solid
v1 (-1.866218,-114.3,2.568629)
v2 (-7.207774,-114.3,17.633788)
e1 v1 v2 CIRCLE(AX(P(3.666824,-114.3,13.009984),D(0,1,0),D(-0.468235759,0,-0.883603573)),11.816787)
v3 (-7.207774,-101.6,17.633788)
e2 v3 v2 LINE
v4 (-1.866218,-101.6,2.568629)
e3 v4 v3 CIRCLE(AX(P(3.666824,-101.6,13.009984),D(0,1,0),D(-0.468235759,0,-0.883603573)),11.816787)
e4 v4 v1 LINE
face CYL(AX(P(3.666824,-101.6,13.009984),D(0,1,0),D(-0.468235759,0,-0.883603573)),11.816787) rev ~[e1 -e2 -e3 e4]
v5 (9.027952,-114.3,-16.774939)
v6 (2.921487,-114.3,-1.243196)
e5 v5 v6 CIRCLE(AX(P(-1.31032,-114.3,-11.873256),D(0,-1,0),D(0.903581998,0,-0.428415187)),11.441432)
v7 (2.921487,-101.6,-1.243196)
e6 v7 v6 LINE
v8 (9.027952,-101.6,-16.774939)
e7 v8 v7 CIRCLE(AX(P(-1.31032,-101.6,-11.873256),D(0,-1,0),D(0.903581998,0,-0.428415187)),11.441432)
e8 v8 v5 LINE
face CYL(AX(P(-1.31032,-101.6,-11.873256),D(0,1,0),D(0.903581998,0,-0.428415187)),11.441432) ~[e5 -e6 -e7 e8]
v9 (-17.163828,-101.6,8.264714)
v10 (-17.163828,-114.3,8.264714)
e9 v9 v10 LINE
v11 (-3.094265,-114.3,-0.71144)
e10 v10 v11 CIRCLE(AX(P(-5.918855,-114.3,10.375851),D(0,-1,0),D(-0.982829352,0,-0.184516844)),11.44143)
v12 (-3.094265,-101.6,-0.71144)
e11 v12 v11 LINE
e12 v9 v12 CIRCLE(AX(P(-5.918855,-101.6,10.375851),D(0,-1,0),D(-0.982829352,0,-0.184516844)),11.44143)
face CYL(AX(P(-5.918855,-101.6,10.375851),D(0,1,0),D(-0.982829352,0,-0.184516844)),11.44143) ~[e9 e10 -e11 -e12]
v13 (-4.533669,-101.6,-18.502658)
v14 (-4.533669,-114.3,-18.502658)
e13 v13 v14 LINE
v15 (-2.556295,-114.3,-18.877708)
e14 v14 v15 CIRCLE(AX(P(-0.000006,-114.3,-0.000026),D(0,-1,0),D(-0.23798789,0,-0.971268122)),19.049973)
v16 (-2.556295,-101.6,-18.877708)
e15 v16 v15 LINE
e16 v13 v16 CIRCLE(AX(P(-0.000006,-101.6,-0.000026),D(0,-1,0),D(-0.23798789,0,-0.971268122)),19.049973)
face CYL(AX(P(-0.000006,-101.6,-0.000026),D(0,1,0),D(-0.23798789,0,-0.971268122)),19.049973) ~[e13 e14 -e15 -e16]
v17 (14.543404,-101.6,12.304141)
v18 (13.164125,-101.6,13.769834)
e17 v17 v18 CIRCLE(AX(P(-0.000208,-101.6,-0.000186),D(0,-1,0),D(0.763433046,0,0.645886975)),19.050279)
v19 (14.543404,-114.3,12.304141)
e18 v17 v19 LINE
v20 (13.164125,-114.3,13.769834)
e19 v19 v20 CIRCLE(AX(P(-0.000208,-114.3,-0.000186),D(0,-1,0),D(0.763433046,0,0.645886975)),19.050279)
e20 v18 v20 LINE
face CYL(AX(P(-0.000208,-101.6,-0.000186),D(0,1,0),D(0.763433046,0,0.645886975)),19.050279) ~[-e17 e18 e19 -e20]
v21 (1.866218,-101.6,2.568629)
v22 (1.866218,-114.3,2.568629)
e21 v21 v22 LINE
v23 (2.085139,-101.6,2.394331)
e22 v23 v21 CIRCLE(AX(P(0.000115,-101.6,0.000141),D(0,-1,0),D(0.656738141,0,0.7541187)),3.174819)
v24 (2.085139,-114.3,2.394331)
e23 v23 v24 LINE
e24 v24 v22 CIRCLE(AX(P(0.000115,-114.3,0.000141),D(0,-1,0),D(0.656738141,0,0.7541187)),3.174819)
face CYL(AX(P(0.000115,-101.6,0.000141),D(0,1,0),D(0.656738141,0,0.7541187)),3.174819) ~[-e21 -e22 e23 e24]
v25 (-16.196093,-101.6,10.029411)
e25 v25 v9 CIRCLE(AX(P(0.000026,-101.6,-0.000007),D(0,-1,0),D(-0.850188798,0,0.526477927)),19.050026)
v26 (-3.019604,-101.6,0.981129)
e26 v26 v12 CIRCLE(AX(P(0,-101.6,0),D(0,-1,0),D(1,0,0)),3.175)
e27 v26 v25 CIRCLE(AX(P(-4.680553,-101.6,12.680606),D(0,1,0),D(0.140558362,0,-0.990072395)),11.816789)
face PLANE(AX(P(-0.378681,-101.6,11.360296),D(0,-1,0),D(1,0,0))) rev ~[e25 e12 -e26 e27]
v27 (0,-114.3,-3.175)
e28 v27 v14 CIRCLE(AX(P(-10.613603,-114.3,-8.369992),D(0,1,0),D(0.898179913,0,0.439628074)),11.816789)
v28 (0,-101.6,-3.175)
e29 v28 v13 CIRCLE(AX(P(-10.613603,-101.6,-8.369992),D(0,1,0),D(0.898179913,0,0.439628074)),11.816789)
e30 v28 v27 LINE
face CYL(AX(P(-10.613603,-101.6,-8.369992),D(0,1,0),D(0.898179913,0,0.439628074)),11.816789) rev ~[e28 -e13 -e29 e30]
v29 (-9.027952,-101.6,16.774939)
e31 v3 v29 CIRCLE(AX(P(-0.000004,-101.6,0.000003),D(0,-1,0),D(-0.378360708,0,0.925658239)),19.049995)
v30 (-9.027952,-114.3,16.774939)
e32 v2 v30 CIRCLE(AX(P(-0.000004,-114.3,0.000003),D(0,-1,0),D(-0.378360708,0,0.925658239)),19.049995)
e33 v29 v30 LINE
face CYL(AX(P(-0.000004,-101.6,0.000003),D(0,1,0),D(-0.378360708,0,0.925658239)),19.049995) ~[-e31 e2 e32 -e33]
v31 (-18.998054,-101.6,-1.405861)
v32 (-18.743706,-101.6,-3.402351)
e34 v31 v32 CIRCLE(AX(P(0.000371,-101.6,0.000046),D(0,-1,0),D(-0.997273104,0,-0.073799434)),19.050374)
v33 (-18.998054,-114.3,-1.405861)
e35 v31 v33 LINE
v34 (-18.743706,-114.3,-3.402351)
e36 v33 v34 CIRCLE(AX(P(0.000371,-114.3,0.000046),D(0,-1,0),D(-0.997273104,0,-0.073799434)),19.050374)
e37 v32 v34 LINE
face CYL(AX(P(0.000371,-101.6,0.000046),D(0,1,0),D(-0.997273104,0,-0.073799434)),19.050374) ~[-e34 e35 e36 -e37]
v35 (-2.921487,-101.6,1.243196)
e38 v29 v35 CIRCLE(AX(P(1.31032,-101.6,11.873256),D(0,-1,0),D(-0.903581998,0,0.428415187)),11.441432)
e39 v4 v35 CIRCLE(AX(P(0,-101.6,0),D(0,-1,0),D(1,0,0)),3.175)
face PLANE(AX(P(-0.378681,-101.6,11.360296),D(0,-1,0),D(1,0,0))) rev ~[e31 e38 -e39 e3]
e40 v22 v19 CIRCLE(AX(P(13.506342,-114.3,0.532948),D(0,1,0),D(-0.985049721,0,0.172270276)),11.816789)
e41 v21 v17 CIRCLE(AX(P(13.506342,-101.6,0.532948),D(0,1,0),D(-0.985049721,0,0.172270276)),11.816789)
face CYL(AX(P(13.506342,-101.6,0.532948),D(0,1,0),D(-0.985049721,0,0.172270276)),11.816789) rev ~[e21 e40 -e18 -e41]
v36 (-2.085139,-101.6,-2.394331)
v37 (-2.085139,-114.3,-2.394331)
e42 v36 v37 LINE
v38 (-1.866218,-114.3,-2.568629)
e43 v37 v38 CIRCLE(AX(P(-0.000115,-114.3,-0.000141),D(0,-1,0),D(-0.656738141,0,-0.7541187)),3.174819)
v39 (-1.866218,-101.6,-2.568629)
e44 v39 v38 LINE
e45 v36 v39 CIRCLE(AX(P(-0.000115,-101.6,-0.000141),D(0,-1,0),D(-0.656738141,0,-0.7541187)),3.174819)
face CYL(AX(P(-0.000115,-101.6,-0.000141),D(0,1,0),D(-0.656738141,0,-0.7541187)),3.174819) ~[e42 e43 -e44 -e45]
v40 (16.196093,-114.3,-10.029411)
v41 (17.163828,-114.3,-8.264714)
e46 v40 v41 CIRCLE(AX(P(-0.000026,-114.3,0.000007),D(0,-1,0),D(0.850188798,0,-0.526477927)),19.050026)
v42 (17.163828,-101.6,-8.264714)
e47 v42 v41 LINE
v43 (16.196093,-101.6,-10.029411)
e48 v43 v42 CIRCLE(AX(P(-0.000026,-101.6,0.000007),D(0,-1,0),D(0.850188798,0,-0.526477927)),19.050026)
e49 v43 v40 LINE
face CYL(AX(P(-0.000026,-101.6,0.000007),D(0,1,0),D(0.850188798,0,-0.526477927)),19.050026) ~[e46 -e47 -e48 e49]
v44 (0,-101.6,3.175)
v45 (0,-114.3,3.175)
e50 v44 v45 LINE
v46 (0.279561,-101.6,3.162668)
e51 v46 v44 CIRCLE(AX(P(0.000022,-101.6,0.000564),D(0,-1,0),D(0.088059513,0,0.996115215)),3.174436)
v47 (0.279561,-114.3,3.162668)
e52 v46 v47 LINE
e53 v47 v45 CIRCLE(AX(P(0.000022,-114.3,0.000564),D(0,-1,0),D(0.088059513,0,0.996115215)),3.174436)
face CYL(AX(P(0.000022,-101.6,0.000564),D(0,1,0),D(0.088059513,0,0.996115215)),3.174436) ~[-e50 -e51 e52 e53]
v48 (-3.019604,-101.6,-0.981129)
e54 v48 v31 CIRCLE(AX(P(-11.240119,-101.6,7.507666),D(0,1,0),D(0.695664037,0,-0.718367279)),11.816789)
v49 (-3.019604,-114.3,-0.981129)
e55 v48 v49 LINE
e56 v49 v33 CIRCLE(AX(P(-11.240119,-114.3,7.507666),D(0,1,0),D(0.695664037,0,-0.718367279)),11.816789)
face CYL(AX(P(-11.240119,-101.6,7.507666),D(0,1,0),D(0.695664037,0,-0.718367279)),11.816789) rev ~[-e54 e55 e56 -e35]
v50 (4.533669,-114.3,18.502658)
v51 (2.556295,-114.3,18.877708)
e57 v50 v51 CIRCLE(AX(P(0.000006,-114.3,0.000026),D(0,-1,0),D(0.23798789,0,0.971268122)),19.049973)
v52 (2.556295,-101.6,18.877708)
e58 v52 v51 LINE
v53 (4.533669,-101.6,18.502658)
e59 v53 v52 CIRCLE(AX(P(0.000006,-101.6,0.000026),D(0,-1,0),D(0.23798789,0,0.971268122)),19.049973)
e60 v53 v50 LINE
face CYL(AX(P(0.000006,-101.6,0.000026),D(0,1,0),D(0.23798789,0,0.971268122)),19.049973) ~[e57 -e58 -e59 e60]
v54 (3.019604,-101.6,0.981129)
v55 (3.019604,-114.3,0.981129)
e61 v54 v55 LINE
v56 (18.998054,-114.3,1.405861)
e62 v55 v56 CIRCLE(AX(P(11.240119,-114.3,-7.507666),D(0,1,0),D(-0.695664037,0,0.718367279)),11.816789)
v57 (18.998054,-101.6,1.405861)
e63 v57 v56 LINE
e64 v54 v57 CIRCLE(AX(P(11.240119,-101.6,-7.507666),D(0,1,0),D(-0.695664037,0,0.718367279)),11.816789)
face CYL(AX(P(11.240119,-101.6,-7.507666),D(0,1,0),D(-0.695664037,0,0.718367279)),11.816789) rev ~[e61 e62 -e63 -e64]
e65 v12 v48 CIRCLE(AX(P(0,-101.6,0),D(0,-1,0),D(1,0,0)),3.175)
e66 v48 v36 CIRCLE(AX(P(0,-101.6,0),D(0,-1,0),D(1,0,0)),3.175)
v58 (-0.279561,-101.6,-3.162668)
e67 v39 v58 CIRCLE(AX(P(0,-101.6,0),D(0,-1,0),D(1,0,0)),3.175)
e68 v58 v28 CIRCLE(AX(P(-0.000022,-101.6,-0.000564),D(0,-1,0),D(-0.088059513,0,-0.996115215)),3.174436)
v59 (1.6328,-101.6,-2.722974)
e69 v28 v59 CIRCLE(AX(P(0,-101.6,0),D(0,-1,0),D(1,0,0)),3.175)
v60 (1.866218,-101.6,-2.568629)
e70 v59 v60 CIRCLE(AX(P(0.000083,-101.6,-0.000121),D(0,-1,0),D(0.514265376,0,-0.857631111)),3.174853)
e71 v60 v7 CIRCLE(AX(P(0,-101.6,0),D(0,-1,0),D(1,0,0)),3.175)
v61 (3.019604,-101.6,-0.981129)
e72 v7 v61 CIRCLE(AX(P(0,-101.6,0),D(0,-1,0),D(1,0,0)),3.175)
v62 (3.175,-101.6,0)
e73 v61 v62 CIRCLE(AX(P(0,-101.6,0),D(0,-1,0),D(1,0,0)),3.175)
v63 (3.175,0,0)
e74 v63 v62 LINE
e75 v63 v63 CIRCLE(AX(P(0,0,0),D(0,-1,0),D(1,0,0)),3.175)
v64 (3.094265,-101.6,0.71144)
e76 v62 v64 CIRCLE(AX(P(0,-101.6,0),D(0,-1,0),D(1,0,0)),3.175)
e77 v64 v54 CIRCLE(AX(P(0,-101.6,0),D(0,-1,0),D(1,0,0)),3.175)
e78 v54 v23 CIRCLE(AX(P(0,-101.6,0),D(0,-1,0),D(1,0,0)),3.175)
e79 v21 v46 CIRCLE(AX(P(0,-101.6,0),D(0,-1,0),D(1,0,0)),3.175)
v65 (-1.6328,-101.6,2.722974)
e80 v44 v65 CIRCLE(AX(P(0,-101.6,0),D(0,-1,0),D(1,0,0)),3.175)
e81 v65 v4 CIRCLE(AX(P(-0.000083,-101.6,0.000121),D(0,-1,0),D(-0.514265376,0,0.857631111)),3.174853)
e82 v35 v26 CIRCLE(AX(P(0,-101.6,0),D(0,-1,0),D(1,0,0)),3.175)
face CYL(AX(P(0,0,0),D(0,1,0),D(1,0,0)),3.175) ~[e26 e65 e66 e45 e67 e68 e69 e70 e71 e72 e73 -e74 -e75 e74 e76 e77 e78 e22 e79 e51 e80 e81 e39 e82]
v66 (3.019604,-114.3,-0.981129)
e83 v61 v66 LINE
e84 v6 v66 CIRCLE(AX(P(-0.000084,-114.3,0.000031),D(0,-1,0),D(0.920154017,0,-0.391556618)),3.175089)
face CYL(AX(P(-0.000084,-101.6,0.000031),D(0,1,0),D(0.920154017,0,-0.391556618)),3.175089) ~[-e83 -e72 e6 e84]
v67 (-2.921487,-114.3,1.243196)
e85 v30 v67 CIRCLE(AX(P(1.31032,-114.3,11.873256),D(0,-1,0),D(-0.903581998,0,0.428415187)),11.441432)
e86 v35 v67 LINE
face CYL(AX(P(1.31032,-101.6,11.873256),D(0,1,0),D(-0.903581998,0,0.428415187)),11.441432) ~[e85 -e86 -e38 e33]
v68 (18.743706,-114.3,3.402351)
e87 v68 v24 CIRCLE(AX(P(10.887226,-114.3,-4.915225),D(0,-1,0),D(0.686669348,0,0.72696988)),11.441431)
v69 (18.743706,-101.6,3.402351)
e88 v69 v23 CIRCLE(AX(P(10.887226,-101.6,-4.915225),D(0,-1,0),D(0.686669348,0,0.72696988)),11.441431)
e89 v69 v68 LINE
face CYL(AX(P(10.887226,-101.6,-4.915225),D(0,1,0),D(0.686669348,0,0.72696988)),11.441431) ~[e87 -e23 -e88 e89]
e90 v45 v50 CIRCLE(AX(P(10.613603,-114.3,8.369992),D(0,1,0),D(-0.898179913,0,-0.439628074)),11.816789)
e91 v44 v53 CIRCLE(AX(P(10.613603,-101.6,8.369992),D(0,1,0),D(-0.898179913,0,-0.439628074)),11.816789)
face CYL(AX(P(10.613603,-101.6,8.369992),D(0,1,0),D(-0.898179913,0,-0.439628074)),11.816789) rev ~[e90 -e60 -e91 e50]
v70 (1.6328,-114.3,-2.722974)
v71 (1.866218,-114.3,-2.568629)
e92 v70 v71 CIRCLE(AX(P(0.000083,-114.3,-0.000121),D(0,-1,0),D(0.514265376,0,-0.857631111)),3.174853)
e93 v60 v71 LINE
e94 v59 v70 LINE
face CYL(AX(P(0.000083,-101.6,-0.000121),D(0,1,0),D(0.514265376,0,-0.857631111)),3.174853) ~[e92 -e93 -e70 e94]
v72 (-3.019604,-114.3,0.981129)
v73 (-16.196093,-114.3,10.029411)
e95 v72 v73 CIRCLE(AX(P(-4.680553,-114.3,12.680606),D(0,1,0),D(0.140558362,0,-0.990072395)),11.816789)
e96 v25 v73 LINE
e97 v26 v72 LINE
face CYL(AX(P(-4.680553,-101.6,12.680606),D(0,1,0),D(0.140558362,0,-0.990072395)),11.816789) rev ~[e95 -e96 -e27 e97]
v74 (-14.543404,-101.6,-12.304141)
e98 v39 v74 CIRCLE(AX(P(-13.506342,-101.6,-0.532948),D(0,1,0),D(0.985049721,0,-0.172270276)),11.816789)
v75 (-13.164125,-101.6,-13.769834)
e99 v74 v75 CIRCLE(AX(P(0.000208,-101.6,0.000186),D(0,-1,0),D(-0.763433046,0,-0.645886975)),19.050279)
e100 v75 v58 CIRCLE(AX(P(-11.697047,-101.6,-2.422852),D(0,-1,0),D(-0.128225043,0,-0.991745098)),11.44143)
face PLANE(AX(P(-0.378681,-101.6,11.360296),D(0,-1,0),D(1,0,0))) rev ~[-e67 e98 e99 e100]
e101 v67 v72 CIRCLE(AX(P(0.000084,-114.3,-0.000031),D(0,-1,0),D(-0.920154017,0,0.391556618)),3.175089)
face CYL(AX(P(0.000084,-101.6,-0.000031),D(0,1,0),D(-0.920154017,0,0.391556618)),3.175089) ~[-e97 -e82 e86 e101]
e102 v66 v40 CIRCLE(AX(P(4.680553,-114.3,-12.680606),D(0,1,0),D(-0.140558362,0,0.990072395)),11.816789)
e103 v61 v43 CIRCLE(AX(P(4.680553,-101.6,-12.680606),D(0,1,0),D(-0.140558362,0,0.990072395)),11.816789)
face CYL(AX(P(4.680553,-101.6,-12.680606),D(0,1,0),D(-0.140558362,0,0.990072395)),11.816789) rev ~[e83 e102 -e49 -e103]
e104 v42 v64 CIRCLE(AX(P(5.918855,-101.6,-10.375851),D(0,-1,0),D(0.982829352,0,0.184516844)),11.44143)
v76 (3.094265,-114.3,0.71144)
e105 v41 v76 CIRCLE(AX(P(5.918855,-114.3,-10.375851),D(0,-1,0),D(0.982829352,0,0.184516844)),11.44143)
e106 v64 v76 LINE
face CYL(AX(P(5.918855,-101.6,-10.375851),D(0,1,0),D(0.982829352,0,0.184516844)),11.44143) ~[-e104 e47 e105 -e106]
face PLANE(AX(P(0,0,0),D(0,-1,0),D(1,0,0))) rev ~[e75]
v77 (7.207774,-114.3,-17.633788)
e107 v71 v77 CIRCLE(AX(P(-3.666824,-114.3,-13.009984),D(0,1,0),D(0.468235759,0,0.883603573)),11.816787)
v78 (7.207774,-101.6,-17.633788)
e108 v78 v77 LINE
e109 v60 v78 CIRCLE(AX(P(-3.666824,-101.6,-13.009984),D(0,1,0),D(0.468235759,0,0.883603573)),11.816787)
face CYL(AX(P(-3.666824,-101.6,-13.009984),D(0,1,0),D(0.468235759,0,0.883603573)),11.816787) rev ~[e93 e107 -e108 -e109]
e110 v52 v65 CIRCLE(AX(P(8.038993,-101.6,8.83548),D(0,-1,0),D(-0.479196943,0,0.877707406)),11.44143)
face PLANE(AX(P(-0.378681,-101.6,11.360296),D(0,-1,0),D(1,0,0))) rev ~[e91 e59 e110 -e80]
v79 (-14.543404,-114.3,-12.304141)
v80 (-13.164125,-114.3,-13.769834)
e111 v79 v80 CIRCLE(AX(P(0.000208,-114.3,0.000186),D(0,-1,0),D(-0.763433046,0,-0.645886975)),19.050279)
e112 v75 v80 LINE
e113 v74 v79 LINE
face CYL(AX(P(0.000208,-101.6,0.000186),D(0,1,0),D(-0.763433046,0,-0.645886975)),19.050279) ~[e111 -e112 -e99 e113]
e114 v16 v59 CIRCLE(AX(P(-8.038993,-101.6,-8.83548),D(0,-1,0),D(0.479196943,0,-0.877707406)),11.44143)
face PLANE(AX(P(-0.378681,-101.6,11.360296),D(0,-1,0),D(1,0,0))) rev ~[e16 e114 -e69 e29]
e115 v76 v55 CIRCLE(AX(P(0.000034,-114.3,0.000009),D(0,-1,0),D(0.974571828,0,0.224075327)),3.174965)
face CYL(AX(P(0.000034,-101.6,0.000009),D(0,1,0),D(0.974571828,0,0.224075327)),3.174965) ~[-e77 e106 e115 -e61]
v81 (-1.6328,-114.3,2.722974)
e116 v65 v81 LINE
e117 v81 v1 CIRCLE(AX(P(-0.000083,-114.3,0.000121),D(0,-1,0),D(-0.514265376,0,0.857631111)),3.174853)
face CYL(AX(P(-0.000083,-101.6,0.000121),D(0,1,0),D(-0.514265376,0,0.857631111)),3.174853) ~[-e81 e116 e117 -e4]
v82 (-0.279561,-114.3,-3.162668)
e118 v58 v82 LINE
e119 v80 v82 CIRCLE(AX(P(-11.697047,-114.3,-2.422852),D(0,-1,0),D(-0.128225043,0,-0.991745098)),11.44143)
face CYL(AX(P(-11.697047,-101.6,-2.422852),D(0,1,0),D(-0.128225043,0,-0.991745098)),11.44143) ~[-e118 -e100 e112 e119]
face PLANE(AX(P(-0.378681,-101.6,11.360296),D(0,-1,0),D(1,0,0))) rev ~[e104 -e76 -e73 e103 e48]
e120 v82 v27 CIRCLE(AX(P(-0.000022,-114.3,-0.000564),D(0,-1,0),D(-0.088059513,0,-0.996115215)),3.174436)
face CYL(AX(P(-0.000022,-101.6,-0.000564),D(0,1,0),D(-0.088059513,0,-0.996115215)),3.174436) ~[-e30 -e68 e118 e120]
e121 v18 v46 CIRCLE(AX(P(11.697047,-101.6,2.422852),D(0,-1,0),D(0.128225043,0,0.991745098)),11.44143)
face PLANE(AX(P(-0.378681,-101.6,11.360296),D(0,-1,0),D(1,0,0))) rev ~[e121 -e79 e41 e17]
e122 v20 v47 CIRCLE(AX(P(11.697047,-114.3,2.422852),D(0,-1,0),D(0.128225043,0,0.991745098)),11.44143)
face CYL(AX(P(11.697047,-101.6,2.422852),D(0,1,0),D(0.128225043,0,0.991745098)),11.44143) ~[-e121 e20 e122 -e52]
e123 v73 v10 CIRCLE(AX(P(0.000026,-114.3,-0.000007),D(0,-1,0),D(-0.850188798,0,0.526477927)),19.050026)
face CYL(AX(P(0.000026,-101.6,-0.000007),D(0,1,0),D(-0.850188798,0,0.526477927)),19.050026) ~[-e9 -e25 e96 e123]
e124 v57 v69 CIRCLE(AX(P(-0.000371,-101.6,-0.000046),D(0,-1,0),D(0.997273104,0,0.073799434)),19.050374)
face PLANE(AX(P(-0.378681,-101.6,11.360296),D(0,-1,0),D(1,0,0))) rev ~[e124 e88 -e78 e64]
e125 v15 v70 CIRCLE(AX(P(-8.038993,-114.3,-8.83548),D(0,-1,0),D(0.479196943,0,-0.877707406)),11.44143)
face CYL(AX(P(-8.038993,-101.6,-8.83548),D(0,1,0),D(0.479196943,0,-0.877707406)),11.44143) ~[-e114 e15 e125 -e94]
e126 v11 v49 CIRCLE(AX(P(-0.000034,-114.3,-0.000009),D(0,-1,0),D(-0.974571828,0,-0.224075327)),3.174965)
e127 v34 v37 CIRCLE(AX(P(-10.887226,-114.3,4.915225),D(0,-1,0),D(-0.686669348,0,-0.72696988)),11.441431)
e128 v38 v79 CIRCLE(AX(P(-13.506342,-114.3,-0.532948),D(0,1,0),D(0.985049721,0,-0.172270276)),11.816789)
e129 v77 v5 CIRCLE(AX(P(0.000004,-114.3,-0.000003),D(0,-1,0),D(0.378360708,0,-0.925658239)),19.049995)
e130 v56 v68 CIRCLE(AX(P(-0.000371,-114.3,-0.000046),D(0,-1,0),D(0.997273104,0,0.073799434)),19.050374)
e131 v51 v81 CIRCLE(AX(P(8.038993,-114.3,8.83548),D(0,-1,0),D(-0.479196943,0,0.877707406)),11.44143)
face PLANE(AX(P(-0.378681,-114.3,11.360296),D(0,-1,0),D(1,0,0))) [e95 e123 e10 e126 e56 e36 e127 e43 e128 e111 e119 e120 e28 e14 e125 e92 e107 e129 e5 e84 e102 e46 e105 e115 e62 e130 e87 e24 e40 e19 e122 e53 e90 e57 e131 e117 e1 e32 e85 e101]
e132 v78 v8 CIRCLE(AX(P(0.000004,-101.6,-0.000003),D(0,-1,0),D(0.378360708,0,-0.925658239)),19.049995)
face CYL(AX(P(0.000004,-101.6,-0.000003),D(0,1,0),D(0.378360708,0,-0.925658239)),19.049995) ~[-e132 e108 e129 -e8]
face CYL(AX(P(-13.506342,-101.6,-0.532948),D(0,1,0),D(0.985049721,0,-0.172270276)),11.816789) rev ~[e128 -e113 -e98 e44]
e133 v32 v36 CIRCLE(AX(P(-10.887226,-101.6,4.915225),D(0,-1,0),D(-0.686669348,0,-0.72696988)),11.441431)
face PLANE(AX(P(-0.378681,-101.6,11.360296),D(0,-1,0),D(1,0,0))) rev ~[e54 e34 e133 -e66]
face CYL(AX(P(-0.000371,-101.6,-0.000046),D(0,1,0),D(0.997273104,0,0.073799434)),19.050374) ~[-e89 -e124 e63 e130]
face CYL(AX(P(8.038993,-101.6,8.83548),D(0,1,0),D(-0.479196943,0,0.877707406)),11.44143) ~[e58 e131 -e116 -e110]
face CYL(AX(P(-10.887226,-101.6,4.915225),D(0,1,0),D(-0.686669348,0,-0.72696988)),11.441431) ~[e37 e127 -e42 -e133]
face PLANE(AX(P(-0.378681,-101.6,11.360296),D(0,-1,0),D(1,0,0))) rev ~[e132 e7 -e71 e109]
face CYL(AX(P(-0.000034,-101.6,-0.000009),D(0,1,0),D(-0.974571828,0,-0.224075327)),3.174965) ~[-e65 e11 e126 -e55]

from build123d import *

# Parameters (mm, degrees)
F0_R     = 3.175
F1_DEPTH = 101.6
F3_DEPTH = 12.7


with BuildPart() as f1:
    # F0 (on Front) → F1 (new body)
    with BuildSketch(Plane.XZ):
        Circle(F0_R)
    extrude(amount=F1_DEPTH)

    # F2 (on face) → F3 (join)
    with BuildSketch(Plane.XZ.offset(101.6)):
        with BuildLine():
            ThreePointArc((0, 3.175), (-0.717894, 11.721662), (4.533669, 18.502658))
            ThreePointArc((4.533669, 18.502658), (3.549938, 18.716315), (2.556295, 18.877708))
            ThreePointArc((2.556295, 18.877708), (-3.036137, 11.70738), (-1.6328, 2.722974))
            ThreePointArc((-1.6328, 2.722974), (-0.847108, 3.059907), (0, 3.175))
        make_face()
        with BuildLine():
            ThreePointArc((1.866218, 2.568629), (6.309032, 9.904992), (14.543404, 12.304141))
            ThreePointArc((14.543404, 12.304141), (13.873134, 13.055215), (13.164125, 13.769834))
            ThreePointArc((13.164125, 13.769834), (4.425139, 11.256066), (0.279561, 3.162668))
            ThreePointArc((0.279561, 3.162668), (1.113244, 2.973434), (1.866218, 2.568629))
        make_face()
        with BuildLine():
            ThreePointArc((3.019604, 0.981129), (10.926122, 4.304951), (18.998054, 1.405861))
            ThreePointArc((18.998054, 1.405861), (18.897264, 2.407467), (18.743706, 3.402351))
            ThreePointArc((18.743706, 3.402351), (10.196162, 6.505317), (2.085139, 2.394331))
            ThreePointArc((2.085139, 2.394331), (2.648374, 1.751211), (3.019604, 0.981129))
        make_face()
        with BuildLine():
            ThreePointArc((16.196093, -10.029411), (16.703282, -9.159851), (17.163828, -8.264714))
            ThreePointArc((17.163828, -8.264714), (12.072598, -0.730242), (3.094265, 0.71144))
            ThreePointArc((3.094265, 0.71144), (3.154752, 0.358003), (3.175, 0))
            ThreePointArc((3.175, 0), (3.13591, -0.496679), (3.019604, -0.981129))
            ThreePointArc((3.019604, -0.981129), (11.369805, -2.939435), (16.196093, -10.029411))
        make_face()
        with BuildLine():
            ThreePointArc((-4.533669, -18.502658), (-3.549938, -18.716315), (-2.556295, -18.877708))
            ThreePointArc((-2.556295, -18.877708), (3.036137, -11.70738), (1.6328, -2.722974))
            ThreePointArc((1.6328, -2.722974), (0.847108, -3.059907), (0, -3.175))
            ThreePointArc((0, -3.175), (0.717894, -11.721662), (-4.533669, -18.502658))
        make_face()
        with BuildLine():
            ThreePointArc((7.207774, -17.633788), (8.129213, -17.228418), (9.027952, -16.774939))
            ThreePointArc((9.027952, -16.774939), (9.337711, -7.686873), (2.921487, -1.243196))
            ThreePointArc((2.921487, -1.243196), (2.483893, -1.9776), (1.866218, -2.568629))
            ThreePointArc((1.866218, -2.568629), (7.470609, -9.061056), (7.207774, -17.633788))
        make_face()
        with BuildLine():
            ThreePointArc((-14.543404, -12.304141), (-13.873134, -13.055215), (-13.164125, -13.769834))
            ThreePointArc((-13.164125, -13.769834), (-4.425139, -11.256066), (-0.279561, -3.162668))
            ThreePointArc((-0.279561, -3.162668), (-1.113244, -2.973434), (-1.866218, -2.568629))
            ThreePointArc((-1.866218, -2.568629), (-6.309032, -9.904992), (-14.543404, -12.304141))
        make_face()
        with BuildLine():
            ThreePointArc((-18.998054, -1.405861), (-18.897264, -2.407467), (-18.743706, -3.402351))
            ThreePointArc((-18.743706, -3.402351), (-10.196162, -6.505317), (-2.085139, -2.394331))
            ThreePointArc((-2.085139, -2.394331), (-2.648374, -1.751211), (-3.019604, -0.981129))
            ThreePointArc((-3.019604, -0.981129), (-10.926122, -4.304951), (-18.998054, -1.405861))
        make_face()
        with BuildLine():
            ThreePointArc((-3.019604, 0.981129), (-11.369805, 2.939435), (-16.196093, 10.029411))
            ThreePointArc((-16.196093, 10.029411), (-16.703282, 9.159851), (-17.163828, 8.264714))
            ThreePointArc((-17.163828, 8.264714), (-12.072598, 0.730242), (-3.094265, -0.71144))
            ThreePointArc((-3.094265, -0.71144), (-3.171916, 0.139916), (-3.019604, 0.981129))
        make_face()
        with BuildLine():
            ThreePointArc((-1.866218, 2.568629), (-7.470609, 9.061056), (-7.207774, 17.633788))
            ThreePointArc((-7.207774, 17.633788), (-8.129213, 17.228418), (-9.027952, 16.774939))
            ThreePointArc((-9.027952, 16.774939), (-9.337711, 7.686873), (-2.921487, 1.243196))
            ThreePointArc((-2.921487, 1.243196), (-2.483893, 1.9776), (-1.866218, 2.568629))
        make_face()
        with BuildLine():
            ThreePointArc((3.094265, 0.71144), (3.059907, 0.847108), (3.019604, 0.981129))
            ThreePointArc((3.019604, 0.981129), (2.648374, 1.751211), (2.085139, 2.394331))
            ThreePointArc((2.085139, 2.394331), (1.9776, 2.483893), (1.866218, 2.568629))
            ThreePointArc((1.866218, 2.568629), (1.113244, 2.973434), (0.279561, 3.162668))
            ThreePointArc((0.279561, 3.162668), (0.139916, 3.171916), (0, 3.175))
            ThreePointArc((0, 3.175), (-0.847108, 3.059907), (-1.6328, 2.722974))
            ThreePointArc((-1.6328, 2.722974), (-1.751211, 2.648374), (-1.866218, 2.568629))
            ThreePointArc((-1.866218, 2.568629), (-2.483893, 1.9776), (-2.921487, 1.243196))
            ThreePointArc((-2.921487, 1.243196), (-2.973434, 1.113244), (-3.019604, 0.981129))
            ThreePointArc((-3.019604, 0.981129), (-3.171916, 0.139916), (-3.094265, -0.71144))
            ThreePointArc((-3.094265, -0.71144), (-3.059907, -0.847108), (-3.019604, -0.981129))
            ThreePointArc((-3.019604, -0.981129), (-2.648374, -1.751211), (-2.085139, -2.394331))
            ThreePointArc((-2.085139, -2.394331), (-1.9776, -2.483893), (-1.866218, -2.568629))
            ThreePointArc((-1.866218, -2.568629), (-1.113244, -2.973434), (-0.279561, -3.162668))
            ThreePointArc((-0.279561, -3.162668), (-0.139916, -3.171916), (0, -3.175))
            ThreePointArc((0, -3.175), (0.847108, -3.059907), (1.6328, -2.722974))
            ThreePointArc((1.6328, -2.722974), (1.751211, -2.648374), (1.866218, -2.568629))
            ThreePointArc((1.866218, -2.568629), (2.483893, -1.9776), (2.921487, -1.243196))
            ThreePointArc((2.921487, -1.243196), (2.973434, -1.113244), (3.019604, -0.981129))
            ThreePointArc((3.019604, -0.981129), (3.13591, -0.496679), (3.175, 0))
            ThreePointArc((3.175, 0), (3.154752, 0.358003), (3.094265, 0.71144))
        make_face()
    extrude(amount=F3_DEPTH)


solid = f1.part
